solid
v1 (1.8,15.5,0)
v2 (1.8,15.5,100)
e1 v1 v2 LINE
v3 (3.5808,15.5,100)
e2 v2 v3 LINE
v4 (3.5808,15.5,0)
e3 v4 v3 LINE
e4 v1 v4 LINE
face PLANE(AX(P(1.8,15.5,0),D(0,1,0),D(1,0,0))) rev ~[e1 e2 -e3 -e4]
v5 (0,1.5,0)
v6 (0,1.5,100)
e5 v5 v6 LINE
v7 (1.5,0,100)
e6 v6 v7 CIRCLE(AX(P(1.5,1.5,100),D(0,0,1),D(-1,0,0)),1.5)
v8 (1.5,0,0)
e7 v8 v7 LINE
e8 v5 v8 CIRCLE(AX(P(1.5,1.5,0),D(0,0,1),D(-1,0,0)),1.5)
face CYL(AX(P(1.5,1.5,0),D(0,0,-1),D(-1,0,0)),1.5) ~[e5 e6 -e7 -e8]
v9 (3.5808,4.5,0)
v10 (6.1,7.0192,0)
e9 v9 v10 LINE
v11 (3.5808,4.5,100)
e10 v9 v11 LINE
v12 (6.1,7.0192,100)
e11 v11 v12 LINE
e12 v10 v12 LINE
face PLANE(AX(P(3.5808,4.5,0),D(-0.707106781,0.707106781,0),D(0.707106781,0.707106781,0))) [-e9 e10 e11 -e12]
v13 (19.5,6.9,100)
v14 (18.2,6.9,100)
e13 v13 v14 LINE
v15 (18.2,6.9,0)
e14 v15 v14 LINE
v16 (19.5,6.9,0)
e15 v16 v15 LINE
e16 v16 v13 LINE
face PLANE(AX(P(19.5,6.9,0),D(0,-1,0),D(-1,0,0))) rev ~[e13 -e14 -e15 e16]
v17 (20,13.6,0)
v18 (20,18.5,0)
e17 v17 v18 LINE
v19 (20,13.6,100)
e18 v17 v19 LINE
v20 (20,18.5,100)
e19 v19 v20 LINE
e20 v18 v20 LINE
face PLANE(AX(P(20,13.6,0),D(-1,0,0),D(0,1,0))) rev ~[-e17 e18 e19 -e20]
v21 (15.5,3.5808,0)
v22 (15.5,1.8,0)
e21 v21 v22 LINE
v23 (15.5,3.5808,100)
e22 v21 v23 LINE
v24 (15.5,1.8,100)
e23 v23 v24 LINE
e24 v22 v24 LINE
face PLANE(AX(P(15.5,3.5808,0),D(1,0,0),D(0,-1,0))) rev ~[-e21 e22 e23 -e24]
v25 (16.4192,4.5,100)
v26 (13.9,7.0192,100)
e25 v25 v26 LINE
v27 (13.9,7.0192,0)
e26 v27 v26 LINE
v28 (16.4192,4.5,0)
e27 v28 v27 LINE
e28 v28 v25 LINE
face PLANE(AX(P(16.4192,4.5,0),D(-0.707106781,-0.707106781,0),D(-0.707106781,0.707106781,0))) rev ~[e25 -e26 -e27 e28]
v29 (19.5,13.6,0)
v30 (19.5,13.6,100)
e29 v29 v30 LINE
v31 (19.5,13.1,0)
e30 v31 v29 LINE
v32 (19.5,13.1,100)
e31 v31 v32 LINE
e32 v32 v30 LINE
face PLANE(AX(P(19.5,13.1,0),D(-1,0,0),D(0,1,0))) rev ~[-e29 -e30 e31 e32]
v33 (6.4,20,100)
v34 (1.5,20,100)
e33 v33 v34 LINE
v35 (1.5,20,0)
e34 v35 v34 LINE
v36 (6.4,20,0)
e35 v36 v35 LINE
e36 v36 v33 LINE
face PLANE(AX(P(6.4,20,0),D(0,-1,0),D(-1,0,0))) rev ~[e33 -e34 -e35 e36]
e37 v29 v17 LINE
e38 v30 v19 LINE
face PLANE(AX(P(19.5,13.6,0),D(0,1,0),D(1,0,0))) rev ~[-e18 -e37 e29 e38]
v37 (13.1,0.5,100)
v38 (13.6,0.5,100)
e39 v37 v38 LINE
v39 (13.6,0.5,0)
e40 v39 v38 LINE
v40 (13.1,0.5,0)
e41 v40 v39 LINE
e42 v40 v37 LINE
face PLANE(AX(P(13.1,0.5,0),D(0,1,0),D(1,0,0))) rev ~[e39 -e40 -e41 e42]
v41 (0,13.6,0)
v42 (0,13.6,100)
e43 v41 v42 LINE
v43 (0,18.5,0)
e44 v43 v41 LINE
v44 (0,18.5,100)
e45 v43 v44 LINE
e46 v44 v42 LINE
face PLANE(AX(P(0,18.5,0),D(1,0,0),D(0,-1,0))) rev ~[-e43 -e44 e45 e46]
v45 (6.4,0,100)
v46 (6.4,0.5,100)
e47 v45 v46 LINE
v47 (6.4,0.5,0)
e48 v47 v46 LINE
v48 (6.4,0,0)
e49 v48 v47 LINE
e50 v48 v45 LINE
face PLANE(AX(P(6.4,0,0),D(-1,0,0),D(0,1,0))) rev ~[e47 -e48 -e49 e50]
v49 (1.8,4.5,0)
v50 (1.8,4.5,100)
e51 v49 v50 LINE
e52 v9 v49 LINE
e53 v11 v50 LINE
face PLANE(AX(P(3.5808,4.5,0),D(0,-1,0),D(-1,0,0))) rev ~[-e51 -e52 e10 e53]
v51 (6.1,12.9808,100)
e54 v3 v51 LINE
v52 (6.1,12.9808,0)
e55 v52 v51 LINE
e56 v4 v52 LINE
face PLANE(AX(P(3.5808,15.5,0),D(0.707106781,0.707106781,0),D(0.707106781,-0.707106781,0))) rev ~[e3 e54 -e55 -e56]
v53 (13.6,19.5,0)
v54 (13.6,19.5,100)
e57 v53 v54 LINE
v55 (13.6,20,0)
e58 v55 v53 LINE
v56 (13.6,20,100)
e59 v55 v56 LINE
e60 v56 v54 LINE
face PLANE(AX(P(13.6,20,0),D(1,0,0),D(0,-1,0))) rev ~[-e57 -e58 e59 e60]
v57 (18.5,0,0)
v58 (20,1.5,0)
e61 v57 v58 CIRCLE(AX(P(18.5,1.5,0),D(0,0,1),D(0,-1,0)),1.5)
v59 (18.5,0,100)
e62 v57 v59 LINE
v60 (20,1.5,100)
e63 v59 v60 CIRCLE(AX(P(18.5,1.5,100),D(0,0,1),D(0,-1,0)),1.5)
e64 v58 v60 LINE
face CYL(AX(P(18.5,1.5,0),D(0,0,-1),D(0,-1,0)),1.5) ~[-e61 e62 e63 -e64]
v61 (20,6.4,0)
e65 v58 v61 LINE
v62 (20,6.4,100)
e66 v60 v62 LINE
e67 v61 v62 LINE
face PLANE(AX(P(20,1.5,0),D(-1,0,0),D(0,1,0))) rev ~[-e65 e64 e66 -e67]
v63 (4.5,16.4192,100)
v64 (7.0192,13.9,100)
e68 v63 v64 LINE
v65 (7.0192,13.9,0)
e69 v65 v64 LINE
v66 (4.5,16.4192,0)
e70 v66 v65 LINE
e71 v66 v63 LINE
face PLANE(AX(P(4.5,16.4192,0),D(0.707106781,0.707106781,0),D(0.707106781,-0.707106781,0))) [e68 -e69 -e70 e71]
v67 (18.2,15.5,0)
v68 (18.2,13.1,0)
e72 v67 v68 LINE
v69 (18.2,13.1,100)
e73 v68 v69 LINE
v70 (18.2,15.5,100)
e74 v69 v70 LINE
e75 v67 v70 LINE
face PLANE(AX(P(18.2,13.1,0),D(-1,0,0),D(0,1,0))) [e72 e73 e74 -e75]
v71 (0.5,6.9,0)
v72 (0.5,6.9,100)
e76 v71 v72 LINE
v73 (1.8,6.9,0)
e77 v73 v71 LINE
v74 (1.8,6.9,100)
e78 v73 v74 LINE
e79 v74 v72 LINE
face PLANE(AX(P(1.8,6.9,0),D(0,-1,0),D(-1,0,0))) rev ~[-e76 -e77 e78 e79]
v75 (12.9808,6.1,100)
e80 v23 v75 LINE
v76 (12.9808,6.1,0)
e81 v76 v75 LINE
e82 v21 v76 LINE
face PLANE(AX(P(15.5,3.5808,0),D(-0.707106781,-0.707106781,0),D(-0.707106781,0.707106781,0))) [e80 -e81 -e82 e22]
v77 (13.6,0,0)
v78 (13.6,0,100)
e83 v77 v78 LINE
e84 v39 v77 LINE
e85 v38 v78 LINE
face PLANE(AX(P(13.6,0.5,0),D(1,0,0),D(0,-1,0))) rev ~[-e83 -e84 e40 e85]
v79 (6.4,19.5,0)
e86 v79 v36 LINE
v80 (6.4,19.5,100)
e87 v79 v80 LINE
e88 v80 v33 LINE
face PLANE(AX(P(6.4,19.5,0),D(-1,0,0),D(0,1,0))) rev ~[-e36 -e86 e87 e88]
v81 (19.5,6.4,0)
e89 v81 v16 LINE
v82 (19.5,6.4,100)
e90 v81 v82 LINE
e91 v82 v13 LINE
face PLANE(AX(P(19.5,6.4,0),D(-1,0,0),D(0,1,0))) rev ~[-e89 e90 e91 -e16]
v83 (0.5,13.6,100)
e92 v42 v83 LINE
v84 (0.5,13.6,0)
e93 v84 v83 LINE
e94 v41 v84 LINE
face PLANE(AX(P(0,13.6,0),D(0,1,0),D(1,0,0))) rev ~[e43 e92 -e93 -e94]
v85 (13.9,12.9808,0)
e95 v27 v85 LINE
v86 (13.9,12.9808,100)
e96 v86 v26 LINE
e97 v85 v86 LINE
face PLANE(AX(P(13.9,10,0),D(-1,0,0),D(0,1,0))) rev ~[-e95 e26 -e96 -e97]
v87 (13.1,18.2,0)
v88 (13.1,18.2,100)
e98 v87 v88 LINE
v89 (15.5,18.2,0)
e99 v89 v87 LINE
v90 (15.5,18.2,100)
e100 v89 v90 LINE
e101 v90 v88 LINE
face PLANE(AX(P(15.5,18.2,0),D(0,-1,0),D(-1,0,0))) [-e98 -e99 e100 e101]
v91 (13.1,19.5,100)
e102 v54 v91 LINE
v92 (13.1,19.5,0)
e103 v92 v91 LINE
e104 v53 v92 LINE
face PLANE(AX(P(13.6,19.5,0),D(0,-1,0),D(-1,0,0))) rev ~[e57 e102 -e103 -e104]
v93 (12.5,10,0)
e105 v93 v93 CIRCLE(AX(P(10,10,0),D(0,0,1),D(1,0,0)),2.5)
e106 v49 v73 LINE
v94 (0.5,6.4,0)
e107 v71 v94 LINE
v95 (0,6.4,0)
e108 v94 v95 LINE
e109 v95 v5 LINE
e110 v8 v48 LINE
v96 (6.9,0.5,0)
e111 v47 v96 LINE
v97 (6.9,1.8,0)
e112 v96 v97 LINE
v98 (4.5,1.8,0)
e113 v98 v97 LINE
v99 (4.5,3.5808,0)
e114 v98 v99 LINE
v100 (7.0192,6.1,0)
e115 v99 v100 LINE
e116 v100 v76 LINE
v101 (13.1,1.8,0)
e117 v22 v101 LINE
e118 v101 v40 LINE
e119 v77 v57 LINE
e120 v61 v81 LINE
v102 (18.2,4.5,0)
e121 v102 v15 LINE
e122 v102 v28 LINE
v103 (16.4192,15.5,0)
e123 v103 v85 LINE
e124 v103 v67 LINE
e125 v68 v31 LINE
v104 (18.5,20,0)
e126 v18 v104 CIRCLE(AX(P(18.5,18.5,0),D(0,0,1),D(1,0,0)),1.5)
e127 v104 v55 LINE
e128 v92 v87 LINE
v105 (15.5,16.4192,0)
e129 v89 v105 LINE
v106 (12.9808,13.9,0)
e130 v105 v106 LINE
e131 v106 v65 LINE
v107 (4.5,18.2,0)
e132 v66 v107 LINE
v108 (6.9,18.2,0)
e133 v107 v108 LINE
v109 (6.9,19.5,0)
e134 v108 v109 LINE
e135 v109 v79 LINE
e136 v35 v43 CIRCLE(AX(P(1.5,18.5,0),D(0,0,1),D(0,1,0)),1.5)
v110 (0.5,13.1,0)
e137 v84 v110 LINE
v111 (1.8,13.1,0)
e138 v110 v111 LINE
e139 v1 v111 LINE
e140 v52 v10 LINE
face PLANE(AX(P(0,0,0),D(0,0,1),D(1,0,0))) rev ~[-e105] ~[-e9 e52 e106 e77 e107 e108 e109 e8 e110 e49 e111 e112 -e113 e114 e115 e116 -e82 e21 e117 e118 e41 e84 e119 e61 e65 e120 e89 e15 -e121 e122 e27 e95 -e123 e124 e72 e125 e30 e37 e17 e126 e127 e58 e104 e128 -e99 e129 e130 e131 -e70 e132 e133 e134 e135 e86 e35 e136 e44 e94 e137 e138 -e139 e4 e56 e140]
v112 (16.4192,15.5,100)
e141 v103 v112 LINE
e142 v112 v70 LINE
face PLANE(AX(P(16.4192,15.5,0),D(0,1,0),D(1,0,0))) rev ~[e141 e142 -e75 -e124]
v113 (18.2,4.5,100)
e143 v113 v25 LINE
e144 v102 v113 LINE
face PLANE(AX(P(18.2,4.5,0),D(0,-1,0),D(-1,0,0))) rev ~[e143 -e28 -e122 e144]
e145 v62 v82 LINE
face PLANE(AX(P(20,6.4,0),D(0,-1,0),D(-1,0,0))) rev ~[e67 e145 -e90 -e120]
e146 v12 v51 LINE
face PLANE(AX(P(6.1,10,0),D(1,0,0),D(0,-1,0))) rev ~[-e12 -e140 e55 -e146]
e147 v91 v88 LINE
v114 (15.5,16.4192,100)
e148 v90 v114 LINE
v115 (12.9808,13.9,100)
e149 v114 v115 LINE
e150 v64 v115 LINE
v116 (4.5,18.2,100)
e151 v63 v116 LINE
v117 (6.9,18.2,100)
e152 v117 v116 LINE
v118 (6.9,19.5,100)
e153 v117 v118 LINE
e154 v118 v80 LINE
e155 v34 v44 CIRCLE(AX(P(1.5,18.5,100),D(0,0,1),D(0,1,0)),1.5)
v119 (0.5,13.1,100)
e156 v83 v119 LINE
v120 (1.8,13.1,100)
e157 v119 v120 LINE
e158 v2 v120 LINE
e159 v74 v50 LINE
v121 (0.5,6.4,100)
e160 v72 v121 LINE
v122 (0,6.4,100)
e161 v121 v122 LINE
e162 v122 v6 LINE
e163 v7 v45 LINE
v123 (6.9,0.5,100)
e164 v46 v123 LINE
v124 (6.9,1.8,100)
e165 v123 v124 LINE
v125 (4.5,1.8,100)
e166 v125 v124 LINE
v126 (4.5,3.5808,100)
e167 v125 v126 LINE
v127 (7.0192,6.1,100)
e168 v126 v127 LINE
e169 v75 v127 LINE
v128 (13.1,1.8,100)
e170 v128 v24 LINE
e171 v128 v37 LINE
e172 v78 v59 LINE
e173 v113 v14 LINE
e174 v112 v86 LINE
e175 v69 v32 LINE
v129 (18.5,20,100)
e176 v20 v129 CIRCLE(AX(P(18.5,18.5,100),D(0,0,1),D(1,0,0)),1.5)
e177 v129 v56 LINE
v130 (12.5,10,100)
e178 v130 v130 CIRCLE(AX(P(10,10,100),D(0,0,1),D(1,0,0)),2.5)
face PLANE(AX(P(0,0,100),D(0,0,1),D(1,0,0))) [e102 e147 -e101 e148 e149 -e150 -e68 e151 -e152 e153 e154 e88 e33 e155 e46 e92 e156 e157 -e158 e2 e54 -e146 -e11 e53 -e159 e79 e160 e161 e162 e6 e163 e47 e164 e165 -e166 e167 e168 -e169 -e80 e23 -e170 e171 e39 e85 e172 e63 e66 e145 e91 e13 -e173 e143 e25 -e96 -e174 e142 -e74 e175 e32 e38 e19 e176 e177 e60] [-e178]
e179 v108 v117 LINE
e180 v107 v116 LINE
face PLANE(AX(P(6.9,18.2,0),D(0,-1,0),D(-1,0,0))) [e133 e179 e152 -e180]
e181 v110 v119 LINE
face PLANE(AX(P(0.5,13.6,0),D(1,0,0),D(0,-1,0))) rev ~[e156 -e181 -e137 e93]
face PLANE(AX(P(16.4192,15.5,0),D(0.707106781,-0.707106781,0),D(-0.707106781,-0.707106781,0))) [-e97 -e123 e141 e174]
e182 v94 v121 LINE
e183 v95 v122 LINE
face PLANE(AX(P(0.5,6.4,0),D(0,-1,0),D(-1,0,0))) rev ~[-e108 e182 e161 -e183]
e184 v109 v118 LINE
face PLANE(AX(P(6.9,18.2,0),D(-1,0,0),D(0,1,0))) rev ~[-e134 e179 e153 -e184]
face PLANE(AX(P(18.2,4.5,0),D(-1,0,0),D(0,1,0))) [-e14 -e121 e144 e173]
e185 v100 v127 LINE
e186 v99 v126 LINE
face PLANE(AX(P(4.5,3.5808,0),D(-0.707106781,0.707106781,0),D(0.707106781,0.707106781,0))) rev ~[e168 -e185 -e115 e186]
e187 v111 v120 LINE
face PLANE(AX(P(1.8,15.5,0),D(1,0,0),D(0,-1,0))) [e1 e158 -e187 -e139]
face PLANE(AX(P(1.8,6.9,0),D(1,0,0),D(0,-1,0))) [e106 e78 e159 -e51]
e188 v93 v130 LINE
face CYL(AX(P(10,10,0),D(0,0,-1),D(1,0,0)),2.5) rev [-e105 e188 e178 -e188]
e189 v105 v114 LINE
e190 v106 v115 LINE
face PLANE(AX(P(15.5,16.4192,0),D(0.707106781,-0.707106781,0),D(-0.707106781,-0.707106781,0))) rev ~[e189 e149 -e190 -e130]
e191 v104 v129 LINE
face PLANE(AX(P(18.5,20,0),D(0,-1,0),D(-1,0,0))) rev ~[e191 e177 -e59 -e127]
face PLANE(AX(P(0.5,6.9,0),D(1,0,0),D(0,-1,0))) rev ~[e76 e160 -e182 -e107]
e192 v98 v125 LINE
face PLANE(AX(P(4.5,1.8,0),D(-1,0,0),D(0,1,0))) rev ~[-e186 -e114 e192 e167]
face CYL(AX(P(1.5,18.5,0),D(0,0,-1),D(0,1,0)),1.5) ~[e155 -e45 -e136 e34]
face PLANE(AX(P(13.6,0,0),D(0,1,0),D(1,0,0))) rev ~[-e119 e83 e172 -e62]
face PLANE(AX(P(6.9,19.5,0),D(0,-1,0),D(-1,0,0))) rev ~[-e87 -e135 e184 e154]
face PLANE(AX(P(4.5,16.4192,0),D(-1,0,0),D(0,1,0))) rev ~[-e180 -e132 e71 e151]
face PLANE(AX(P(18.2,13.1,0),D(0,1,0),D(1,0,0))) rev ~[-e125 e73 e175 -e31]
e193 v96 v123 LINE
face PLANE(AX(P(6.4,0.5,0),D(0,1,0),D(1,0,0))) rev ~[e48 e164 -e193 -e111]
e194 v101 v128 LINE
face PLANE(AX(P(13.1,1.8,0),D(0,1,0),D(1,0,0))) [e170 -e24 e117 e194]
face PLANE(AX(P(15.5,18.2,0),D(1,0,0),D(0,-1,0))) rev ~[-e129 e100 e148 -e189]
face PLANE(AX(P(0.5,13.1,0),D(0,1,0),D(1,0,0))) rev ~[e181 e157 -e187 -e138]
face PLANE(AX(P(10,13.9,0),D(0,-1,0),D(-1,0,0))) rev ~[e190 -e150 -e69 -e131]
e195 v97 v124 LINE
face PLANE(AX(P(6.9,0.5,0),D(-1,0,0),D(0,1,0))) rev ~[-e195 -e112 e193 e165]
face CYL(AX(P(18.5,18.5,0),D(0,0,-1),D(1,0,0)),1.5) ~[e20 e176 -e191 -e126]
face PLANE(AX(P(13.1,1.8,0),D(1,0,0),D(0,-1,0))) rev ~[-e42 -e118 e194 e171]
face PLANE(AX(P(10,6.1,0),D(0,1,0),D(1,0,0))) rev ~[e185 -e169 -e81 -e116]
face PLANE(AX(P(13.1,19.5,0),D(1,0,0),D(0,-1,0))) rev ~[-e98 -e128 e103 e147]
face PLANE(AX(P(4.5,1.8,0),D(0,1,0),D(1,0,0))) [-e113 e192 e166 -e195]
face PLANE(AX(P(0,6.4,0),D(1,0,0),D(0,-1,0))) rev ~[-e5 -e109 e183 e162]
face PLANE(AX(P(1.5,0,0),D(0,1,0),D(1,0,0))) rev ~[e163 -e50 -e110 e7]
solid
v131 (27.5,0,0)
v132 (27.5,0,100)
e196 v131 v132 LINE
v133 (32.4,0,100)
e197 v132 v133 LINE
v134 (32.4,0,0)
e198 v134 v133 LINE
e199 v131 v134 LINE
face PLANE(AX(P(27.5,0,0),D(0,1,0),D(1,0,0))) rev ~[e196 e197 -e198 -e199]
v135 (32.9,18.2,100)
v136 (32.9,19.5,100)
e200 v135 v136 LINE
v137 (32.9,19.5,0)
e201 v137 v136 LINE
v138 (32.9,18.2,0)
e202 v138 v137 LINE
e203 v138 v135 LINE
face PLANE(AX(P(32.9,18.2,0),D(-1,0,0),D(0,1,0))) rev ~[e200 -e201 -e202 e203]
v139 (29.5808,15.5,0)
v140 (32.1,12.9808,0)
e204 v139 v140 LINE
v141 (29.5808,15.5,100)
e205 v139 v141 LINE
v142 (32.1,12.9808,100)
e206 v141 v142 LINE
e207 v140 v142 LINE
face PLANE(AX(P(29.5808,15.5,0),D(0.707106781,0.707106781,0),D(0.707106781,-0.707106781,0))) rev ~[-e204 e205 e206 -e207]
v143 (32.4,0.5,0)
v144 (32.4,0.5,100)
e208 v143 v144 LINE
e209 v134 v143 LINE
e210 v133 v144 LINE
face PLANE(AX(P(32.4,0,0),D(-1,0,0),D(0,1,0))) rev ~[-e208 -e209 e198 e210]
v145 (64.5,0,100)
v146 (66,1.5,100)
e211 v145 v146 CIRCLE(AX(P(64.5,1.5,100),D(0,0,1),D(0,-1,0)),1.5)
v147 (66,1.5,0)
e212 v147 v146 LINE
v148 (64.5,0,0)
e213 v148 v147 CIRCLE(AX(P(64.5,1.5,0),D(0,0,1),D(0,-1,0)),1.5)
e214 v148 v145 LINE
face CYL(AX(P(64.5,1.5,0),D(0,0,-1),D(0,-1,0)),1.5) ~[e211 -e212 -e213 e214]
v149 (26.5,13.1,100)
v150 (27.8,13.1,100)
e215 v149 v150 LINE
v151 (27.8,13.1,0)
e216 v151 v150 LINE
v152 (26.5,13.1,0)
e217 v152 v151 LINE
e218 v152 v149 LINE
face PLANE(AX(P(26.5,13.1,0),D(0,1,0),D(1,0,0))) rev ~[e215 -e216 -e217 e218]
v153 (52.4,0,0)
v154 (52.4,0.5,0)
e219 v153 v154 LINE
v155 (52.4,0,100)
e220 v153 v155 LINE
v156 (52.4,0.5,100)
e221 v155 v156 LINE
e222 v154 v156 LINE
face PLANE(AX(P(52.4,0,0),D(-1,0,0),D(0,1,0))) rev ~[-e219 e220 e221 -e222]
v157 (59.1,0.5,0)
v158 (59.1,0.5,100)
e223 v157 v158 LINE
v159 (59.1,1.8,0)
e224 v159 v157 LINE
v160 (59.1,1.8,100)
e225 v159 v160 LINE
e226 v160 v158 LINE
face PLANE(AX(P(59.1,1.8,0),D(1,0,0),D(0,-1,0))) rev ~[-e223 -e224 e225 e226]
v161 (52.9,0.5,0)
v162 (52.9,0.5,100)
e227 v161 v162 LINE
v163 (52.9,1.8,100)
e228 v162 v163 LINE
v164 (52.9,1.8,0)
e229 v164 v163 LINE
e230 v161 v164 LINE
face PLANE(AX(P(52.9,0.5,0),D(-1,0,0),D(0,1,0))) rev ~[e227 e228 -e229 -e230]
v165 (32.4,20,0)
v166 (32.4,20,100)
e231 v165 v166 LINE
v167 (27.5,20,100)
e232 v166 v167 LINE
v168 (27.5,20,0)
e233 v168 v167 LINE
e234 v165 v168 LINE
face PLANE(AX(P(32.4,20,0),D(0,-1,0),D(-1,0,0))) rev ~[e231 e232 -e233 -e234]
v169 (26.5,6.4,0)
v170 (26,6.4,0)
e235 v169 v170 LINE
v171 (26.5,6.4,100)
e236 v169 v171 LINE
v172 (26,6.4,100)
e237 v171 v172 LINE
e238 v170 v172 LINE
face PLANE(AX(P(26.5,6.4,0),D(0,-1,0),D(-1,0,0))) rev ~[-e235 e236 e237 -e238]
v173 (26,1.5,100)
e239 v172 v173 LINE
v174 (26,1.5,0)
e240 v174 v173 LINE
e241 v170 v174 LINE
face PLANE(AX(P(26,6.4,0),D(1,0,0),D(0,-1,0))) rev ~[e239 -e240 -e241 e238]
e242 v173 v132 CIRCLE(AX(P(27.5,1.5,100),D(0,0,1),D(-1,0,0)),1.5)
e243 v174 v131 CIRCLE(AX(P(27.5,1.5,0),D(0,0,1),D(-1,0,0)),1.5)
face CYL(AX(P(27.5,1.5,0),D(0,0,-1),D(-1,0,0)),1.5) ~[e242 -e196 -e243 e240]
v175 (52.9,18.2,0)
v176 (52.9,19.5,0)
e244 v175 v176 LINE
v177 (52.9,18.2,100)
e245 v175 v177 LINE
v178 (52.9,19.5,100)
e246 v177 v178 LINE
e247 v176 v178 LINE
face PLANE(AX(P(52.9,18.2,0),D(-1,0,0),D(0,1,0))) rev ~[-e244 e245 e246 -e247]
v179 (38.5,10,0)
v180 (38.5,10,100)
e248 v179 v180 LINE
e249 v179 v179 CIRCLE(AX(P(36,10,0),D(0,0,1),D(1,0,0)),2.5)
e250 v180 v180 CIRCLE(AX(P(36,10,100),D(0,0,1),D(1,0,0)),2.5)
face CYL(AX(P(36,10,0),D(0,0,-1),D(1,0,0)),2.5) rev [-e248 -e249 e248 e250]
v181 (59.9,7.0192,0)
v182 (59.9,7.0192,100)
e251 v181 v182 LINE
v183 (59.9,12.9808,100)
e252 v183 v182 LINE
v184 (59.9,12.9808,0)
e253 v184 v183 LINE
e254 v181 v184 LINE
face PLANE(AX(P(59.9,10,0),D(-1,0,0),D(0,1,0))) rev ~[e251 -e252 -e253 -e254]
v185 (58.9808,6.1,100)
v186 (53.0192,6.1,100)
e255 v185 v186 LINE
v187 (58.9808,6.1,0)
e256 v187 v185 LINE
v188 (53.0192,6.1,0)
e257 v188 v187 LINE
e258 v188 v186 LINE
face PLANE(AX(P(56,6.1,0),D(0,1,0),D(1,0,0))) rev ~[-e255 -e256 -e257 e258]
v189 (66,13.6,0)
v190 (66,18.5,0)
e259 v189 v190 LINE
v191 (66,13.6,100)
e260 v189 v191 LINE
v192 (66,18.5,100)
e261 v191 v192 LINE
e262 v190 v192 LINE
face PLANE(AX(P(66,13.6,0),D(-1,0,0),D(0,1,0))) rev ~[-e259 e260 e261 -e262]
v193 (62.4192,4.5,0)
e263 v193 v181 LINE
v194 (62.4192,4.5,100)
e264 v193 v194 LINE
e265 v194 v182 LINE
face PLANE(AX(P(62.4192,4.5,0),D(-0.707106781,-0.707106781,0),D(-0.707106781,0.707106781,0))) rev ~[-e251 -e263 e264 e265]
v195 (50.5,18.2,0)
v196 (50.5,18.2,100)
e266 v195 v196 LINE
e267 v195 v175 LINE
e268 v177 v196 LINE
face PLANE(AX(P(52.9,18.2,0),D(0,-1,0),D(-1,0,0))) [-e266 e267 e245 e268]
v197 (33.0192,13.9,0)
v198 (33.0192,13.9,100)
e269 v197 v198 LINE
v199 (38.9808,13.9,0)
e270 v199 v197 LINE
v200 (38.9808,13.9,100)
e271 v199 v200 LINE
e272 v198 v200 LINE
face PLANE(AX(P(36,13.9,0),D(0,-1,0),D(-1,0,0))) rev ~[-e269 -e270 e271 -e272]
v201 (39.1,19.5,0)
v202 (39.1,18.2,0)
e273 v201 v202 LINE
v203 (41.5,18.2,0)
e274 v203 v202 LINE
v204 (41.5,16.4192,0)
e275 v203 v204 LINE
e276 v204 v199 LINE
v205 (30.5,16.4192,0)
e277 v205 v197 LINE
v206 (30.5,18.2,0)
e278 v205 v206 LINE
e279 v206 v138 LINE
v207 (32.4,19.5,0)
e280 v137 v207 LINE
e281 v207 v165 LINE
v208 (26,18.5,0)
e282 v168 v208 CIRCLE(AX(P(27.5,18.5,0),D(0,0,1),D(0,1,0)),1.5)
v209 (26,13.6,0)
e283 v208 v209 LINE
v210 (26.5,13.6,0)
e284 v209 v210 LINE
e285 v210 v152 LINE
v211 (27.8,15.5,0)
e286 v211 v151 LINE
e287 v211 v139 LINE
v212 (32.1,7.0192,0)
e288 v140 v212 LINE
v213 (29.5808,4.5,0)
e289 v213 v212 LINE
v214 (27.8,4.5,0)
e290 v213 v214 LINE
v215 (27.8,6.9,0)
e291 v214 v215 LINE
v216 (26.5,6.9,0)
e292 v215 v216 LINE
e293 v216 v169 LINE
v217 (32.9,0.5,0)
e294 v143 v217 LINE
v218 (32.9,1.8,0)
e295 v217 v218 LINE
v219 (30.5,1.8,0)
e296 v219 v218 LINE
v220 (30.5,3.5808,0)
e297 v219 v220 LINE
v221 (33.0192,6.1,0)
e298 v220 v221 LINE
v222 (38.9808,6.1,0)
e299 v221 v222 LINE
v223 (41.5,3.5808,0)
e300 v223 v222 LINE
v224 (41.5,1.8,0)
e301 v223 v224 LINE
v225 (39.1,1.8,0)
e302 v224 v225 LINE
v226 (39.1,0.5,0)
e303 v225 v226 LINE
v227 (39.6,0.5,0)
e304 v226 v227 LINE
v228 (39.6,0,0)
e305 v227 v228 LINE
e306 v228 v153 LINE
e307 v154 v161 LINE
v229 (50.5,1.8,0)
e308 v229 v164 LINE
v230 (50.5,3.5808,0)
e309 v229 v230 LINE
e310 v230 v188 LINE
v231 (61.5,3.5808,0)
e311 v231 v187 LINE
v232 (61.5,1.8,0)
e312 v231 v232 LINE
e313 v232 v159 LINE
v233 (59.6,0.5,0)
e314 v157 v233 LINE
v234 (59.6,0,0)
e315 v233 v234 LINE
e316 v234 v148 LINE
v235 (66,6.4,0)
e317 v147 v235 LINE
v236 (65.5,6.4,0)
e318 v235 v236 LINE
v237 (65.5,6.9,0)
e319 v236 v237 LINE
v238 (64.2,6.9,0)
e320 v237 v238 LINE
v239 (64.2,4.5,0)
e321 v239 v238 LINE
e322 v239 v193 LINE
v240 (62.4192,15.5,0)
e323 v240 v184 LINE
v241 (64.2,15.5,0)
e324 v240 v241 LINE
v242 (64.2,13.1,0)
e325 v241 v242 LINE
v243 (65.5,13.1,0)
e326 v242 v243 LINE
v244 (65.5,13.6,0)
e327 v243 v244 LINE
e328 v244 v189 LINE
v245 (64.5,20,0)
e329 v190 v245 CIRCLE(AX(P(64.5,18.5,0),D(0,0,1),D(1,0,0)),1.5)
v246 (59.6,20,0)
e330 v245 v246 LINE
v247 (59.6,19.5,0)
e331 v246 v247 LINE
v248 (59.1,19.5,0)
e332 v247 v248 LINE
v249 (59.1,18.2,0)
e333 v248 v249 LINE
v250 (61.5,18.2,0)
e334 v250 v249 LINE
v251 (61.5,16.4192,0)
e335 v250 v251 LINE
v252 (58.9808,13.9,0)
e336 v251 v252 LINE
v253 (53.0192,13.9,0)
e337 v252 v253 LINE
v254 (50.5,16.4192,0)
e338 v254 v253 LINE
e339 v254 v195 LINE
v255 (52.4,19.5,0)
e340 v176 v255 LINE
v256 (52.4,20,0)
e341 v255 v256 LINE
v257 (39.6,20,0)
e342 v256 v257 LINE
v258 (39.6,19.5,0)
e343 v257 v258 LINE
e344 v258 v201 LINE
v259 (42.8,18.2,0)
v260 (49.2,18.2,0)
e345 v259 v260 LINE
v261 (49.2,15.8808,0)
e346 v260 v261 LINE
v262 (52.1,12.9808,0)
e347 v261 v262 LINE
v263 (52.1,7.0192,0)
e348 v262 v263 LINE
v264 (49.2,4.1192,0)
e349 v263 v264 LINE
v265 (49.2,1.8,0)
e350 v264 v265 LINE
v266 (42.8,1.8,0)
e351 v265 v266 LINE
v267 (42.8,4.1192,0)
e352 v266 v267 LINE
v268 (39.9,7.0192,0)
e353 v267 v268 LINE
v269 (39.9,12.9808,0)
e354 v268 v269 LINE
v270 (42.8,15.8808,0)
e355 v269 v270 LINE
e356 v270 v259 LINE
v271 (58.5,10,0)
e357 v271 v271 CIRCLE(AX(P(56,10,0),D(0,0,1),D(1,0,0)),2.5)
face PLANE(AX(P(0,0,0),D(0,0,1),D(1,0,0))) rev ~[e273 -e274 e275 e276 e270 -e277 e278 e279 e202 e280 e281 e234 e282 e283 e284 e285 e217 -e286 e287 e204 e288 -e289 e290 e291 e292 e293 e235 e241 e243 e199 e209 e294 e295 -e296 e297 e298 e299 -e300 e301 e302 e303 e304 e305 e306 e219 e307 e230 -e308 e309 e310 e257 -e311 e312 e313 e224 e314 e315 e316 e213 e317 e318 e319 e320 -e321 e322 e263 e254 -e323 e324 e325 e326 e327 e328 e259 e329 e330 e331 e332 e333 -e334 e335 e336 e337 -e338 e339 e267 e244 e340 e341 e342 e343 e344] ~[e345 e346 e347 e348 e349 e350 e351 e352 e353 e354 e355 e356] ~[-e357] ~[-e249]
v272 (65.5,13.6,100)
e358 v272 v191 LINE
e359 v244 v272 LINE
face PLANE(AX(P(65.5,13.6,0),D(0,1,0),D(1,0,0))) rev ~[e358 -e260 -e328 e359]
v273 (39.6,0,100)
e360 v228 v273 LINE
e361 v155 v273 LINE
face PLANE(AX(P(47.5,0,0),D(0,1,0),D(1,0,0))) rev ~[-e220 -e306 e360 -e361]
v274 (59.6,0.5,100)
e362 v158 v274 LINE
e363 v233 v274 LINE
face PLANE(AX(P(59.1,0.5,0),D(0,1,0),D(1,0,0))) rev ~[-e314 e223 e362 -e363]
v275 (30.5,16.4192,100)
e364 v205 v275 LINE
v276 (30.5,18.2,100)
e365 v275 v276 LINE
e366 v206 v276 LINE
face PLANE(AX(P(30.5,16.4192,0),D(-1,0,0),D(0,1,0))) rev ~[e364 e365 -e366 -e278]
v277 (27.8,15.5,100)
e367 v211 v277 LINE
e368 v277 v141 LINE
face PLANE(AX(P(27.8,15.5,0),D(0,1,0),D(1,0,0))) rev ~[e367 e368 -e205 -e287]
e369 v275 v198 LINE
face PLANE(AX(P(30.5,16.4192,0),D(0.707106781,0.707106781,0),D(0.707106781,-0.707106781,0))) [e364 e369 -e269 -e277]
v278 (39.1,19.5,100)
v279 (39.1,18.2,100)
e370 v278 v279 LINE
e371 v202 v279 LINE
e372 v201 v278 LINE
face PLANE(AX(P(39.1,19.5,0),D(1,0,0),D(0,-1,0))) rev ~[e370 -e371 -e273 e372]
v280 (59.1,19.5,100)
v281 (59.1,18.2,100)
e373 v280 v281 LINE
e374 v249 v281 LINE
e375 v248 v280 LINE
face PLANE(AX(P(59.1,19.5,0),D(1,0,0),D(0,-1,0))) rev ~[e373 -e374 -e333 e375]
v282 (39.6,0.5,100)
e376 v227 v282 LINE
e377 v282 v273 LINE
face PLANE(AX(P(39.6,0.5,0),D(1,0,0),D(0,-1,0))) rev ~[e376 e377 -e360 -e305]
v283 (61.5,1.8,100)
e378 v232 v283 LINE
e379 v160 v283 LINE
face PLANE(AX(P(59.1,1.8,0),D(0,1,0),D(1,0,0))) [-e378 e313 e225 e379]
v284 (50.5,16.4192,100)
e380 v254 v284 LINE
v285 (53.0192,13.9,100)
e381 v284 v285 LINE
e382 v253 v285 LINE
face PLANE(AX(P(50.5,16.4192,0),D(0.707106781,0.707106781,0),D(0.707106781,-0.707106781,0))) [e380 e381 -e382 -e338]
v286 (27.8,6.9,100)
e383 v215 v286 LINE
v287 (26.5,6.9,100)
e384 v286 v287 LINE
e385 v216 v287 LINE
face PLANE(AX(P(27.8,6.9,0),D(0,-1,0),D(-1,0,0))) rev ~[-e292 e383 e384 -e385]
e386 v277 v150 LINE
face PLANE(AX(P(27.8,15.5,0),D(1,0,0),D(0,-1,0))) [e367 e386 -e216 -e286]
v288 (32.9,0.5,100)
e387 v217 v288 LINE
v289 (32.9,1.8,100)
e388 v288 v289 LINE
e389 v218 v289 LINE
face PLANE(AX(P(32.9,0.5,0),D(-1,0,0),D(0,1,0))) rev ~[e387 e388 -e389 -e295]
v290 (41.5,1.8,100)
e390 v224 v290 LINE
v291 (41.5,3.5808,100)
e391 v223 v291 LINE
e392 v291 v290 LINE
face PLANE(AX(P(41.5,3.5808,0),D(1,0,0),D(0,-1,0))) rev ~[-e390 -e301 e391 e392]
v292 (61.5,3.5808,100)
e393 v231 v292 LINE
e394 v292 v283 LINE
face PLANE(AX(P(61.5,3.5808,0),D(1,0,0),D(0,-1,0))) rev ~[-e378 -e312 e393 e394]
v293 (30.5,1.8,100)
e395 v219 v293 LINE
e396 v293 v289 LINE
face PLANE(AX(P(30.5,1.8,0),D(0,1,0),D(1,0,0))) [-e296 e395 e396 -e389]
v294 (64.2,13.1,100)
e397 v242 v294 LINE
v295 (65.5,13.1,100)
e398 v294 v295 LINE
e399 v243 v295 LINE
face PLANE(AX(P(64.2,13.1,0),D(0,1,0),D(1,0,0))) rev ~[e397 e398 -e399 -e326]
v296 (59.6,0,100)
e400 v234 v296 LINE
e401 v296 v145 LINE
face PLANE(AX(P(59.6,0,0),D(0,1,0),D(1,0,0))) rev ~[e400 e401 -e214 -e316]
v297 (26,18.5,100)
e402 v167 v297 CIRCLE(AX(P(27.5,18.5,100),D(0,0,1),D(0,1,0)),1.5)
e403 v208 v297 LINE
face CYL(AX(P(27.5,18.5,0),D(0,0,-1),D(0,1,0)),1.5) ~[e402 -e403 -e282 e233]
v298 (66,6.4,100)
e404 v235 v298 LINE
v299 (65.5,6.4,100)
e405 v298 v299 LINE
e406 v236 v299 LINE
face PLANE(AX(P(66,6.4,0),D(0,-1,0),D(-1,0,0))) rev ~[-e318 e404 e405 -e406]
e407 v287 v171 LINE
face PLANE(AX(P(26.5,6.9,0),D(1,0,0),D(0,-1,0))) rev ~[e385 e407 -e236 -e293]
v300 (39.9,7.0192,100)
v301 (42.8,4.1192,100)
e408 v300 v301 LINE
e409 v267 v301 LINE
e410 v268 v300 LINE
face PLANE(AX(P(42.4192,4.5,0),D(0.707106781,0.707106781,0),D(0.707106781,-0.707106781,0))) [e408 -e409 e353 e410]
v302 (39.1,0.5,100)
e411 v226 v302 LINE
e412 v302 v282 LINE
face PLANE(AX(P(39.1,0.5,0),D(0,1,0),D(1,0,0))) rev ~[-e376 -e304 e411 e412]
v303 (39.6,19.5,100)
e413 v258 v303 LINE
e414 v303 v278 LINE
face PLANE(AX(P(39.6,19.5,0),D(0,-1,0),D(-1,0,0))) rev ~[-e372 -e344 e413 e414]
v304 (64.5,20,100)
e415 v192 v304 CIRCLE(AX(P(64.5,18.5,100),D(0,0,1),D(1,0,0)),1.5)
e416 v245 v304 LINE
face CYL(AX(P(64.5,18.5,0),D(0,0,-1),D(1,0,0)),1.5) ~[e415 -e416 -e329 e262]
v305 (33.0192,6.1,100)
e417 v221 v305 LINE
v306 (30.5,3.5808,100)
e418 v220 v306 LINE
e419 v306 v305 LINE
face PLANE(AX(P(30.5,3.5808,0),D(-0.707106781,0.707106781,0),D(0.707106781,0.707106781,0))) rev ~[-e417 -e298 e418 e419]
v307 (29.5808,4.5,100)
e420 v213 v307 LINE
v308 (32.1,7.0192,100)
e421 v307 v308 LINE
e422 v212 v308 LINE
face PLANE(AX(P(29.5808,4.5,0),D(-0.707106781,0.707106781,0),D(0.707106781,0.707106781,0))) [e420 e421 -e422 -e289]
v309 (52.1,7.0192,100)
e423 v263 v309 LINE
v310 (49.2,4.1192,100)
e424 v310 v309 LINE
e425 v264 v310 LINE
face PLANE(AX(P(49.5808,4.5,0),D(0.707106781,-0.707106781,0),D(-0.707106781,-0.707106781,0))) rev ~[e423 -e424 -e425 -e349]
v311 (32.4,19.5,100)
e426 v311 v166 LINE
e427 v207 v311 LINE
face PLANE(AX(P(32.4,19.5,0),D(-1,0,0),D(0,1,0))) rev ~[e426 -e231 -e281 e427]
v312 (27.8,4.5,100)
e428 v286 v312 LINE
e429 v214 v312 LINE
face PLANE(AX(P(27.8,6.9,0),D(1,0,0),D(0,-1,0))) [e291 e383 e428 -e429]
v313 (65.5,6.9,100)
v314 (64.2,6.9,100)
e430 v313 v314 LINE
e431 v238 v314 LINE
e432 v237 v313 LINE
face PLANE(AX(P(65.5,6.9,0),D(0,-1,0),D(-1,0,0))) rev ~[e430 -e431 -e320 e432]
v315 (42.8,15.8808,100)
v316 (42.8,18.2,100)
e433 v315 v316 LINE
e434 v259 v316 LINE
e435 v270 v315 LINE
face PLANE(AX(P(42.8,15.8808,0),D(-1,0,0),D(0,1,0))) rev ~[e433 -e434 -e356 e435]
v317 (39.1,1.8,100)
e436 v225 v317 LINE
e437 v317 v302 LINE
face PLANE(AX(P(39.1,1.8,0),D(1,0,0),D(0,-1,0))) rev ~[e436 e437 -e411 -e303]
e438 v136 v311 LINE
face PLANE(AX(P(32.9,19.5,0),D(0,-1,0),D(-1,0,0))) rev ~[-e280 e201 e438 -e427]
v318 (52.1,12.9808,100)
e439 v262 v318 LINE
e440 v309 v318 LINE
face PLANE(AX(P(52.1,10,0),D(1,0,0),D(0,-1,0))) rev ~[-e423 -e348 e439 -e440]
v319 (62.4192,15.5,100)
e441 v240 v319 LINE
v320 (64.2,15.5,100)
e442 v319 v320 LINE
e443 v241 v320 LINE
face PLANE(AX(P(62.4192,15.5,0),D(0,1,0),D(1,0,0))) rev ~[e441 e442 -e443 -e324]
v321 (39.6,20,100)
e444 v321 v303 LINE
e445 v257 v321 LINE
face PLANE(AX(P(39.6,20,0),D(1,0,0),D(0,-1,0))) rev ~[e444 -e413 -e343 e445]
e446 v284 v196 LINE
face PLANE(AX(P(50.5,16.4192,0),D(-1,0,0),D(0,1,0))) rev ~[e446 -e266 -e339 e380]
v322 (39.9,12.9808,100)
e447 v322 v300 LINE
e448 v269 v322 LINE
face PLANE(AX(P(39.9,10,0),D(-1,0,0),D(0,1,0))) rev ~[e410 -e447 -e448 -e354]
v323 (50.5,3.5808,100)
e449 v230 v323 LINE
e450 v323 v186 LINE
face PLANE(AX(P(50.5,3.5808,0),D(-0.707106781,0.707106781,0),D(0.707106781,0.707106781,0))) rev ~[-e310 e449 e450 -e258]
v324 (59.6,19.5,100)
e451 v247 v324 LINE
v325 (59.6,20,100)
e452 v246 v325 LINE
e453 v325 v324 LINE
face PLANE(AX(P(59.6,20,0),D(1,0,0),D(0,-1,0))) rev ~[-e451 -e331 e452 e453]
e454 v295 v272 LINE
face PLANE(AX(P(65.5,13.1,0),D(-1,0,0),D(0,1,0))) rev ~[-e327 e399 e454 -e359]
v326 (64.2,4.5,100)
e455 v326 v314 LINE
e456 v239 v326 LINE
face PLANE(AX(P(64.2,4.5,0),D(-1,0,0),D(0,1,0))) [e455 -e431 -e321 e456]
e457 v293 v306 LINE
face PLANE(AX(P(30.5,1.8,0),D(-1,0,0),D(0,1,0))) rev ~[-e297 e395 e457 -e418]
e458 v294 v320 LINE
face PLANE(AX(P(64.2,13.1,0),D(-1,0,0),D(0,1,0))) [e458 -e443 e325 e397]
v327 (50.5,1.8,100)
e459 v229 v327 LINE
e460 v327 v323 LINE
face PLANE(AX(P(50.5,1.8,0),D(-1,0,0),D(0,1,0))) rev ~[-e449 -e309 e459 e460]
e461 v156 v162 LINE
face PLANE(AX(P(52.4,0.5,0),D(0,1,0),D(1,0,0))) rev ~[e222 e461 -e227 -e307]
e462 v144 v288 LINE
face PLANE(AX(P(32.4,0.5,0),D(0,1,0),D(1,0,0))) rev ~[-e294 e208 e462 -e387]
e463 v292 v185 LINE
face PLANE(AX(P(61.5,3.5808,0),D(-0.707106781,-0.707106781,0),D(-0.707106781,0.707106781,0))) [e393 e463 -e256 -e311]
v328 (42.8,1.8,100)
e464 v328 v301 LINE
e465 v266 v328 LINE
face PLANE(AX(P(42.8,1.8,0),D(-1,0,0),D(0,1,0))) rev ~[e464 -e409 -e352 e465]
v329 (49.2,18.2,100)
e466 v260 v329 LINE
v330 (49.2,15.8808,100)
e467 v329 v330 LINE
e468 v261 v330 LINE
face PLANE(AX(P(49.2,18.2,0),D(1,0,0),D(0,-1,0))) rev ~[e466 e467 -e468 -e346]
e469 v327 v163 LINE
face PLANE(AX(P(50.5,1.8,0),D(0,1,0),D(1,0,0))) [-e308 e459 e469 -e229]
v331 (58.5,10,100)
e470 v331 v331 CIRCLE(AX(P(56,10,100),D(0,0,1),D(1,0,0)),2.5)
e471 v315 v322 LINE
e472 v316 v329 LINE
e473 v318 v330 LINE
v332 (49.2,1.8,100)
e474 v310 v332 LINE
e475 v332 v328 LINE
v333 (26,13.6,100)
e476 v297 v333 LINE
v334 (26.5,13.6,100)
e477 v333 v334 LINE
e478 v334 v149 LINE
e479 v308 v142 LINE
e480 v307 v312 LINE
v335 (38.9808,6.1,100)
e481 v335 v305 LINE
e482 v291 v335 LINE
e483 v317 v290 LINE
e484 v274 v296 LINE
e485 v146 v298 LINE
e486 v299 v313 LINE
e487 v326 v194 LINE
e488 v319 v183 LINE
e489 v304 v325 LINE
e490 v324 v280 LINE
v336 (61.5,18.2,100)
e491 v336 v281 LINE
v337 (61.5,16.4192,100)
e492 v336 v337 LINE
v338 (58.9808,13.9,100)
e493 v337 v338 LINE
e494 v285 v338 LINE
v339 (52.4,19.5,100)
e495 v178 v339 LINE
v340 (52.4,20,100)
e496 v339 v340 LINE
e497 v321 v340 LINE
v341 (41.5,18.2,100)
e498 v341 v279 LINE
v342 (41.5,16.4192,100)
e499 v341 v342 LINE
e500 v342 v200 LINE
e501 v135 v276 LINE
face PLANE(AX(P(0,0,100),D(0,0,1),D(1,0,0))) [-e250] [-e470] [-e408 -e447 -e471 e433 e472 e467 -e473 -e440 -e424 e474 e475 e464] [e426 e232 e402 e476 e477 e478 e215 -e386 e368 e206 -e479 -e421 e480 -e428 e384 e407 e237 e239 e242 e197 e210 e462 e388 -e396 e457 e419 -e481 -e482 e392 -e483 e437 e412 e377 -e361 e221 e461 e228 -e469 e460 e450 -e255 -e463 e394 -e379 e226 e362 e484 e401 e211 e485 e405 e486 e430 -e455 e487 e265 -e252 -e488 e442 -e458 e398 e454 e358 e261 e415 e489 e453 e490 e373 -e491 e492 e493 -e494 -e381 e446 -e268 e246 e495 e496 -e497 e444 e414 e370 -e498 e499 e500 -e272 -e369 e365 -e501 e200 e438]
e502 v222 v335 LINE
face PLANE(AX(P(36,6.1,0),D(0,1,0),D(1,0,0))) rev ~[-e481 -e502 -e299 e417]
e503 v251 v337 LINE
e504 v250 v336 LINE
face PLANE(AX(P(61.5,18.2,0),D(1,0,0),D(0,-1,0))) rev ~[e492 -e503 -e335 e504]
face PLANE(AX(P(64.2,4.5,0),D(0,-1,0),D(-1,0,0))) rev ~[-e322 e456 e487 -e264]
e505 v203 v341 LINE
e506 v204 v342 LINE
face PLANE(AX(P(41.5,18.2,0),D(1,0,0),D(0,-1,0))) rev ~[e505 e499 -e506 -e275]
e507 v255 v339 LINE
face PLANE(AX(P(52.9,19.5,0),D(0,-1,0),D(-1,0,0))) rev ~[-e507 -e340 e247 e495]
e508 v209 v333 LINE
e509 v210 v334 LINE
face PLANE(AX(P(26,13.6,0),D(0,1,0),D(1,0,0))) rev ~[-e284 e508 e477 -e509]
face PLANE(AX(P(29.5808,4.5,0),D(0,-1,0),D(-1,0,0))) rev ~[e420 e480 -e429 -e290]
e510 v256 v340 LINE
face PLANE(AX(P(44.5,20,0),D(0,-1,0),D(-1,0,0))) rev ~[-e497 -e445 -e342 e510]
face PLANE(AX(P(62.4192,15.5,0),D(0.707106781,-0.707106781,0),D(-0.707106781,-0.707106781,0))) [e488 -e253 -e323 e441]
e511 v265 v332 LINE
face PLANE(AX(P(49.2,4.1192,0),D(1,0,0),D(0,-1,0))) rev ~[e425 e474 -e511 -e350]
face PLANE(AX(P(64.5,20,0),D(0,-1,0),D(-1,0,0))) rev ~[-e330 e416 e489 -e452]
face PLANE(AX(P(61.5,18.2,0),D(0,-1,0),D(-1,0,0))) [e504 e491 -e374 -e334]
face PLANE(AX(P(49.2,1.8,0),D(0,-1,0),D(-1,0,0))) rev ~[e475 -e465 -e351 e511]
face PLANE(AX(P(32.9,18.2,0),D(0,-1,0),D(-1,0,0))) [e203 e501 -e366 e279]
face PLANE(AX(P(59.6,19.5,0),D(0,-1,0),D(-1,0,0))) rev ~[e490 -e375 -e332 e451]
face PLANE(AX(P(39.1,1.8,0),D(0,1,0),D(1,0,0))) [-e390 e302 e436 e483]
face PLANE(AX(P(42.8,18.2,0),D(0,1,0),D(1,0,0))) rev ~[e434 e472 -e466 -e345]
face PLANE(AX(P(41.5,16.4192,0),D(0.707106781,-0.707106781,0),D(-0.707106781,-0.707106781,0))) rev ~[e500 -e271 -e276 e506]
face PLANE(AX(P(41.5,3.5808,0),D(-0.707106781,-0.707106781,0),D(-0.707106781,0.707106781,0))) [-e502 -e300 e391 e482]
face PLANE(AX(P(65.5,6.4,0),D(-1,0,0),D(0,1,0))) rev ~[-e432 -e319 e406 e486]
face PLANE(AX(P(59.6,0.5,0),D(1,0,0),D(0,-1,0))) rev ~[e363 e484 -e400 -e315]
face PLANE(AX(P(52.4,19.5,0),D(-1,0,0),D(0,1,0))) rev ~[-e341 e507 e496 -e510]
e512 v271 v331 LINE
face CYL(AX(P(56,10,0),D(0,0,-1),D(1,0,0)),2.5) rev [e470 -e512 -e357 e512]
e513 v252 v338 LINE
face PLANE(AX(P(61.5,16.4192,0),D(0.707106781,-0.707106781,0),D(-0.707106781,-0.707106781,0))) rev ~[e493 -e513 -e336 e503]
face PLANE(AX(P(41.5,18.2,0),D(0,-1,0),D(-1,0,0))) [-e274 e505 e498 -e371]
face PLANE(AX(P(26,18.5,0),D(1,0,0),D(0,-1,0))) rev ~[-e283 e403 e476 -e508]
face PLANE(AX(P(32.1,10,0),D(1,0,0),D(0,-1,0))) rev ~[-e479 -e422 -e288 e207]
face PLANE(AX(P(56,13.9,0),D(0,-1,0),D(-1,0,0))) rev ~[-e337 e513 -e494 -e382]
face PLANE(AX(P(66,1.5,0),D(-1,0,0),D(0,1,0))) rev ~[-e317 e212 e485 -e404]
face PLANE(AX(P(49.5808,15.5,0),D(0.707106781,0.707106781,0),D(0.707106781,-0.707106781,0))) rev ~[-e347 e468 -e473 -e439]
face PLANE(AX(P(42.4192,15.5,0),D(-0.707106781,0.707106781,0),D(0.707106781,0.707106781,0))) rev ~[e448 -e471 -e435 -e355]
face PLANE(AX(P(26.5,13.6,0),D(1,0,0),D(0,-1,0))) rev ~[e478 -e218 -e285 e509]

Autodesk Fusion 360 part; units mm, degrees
sketch "Sketch1" plane through (0, 0, 0) normal (0, 0, 1) x (1, 0, 0)
  circle A0 centre (10, 10) radius 2.5
  line L0 (13.9, 6.1) -> (6.1, 13.9) construction
  line L1 (0, 6.4) -> (0, 1.5)
  line L2 (4.5, 1.8) -> (6.9, 1.8)
  line L3 (3.5808, 4.5) -> (6.1, 7.0192)
  line L4 (4.5, 3.5808) -> (7.0192, 6.1)
  line L5 (0.5, 6.9) -> (0.5, 6.4)
  line L6 (0.5, 6.4) -> (0, 6.4)
  line L7 (6.9, 0) -> (6.4, 0) construction
  line L8 (6.4, 0) -> (6.4, 0.5)
  line L9 (6.4, 0.5) -> (6.9, 0.5)
  arc A1 (0, 1.5) -> (1.5, 0) centre (1.5, 1.5) ccw
  line L10 (1.8, 6.9) -> (0.5, 6.9)
  line L11 (1.8, 6.9) -> (1.8, 6.4)
  line L12 (1.8, 6.4) -> (1.8, 4.5)
  line L13 (3.5808, 4.5) -> (1.8, 4.5)
  line L14 (6.1, 10) -> (6.1, 7.0192)
  line L15 (7.0192, 6.1) -> (10, 6.1)
  line L16 (4.5, 1.8) -> (4.5, 3.5808)
  line L17 (6.9, 0.5) -> (6.9, 1.8)
  line L18 (1.5, 0) -> (6.4, 0)
  line L19 (6.4, 0) -> (6.9, 0)
  line L20 (0, 6.9) -> (0, 6.4)
  line L21 (10, 13.9) -> (10, 6.1) construction
  line L22 (13.9, 10) -> (6.1, 10) construction
  line L23 (20, 6.4) -> (19.5, 6.4)
  line L24 (19.5, 6.4) -> (19.5, 6.9)
  line L25 (19.5, 6.9) -> (18.2, 6.9)
  line L26 (18.2, 4.5) -> (18.2, 6.9)
  line L27 (18.2, 4.5) -> (16.4192, 4.5)
  line L28 (16.4192, 4.5) -> (13.9, 7.0192)
  line L29 (13.9, 7.0192) -> (13.9, 10)
  line L30 (15.5, 3.5808) -> (12.9808, 6.1)
  line L31 (15.5, 3.5808) -> (15.5, 1.8)
  line L32 (13.6, 1.8) -> (15.5, 1.8)
  line L33 (13.1, 1.8) -> (13.6, 1.8)
  line L34 (13.1, 1.8) -> (13.1, 0.5)
  line L35 (13.1, 0.5) -> (13.6, 0.5)
  line L36 (13.6, 0.5) -> (13.6, 0)
  line L37 (10, 6.1) -> (12.9808, 6.1)
  line L38 (13.6, 0) -> (18.5, 0)
  arc A2 (18.5, 0) -> (20, 1.5) centre (18.5, 1.5) ccw
  line L39 (20, 1.5) -> (20, 6.4)
  line L40 (13.6, 20) -> (13.6, 19.5)
  line L41 (13.6, 19.5) -> (13.1, 19.5)
  line L42 (13.1, 19.5) -> (13.1, 18.2)
  line L43 (15.5, 18.2) -> (13.1, 18.2)
  line L44 (15.5, 18.2) -> (15.5, 16.4192)
  line L45 (15.5, 16.4192) -> (12.9808, 13.9)
  line L46 (12.9808, 13.9) -> (10, 13.9)
  line L47 (16.4192, 15.5) -> (13.9, 12.9808)
  line L48 (16.4192, 15.5) -> (18.2, 15.5)
  line L49 (18.2, 13.6) -> (18.2, 15.5)
  line L50 (18.2, 13.1) -> (18.2, 13.6)
  line L51 (18.2, 13.1) -> (19.5, 13.1)
  line L52 (19.5, 13.1) -> (19.5, 13.6)
  line L53 (19.5, 13.6) -> (20, 13.6)
  line L54 (13.9, 10) -> (13.9, 12.9808)
  line L55 (20, 13.6) -> (20, 18.5)
  arc A3 (20, 18.5) -> (18.5, 20) centre (18.5, 18.5) ccw
  line L56 (18.5, 20) -> (13.6, 20)
  line L57 (0, 13.6) -> (0.5, 13.6)
  line L58 (0.5, 13.6) -> (0.5, 13.1)
  line L59 (0.5, 13.1) -> (1.8, 13.1)
  line L60 (1.8, 15.5) -> (1.8, 13.1)
  line L61 (1.8, 15.5) -> (3.5808, 15.5)
  line L62 (3.5808, 15.5) -> (6.1, 12.9808)
  line L63 (6.1, 12.9808) -> (6.1, 10)
  line L64 (4.5, 16.4192) -> (7.0192, 13.9)
  line L65 (4.5, 16.4192) -> (4.5, 18.2)
  line L66 (6.4, 18.2) -> (4.5, 18.2)
  line L67 (6.9, 18.2) -> (6.4, 18.2)
  line L68 (6.9, 18.2) -> (6.9, 19.5)
  line L69 (6.9, 19.5) -> (6.4, 19.5)
  line L70 (6.4, 19.5) -> (6.4, 20)
  line L71 (10, 13.9) -> (7.0192, 13.9)
  line L72 (6.4, 20) -> (1.5, 20)
  arc A4 (1.5, 20) -> (0, 18.5) centre (1.5, 18.5) ccw
  line L73 (0, 18.5) -> (0, 13.6)
  arc A5 (26, 1.5) -> (27.5, 0) centre (27.5, 1.5) ccw
  line L74 (41.5, 3.5808) -> (41.5, 1.8)
  line L75 (39.1, 19.5) -> (39.1, 18.2)
  line L76 (32.4, 20) -> (27.5, 20)
  line L77 (26, 6.9) -> (26, 6.4)
  line L78 (29.5808, 4.5) -> (32.1, 7.0192)
  line L79 (29.5808, 15.5) -> (32.1, 12.9808)
  line L80 (26, 13.6) -> (26.5, 13.6)
  line L81 (39.1, 0.5) -> (39.6, 0.5)
  line L82 (30.5, 16.4192) -> (30.5, 18.2)
  line L83 (27.8, 15.5) -> (27.8, 13.1)
  line L84 (36, 13.9) -> (36, 6.1) construction
  line L85 (32.4, 0) -> (32.4, 0.5)
  line L86 (39.6, 0.5) -> (39.6, 0)
  line L87 (32.1, 10) -> (32.1, 7.0192)
  line L88 (32.4, 19.5) -> (32.4, 20)
  line L89 (39.1, 1.8) -> (39.6, 1.8)
  line L90 (27.8, 6.9) -> (27.8, 6.4)
  line L91 (41.5, 16.4192) -> (38.9808, 13.9)
  line L92 (26.5, 13.1) -> (27.8, 13.1)
  line L93 (26.5, 6.4) -> (26, 6.4)
  line L94 (32.1, 12.9808) -> (32.1, 10)
  line L95 (27.5, 0) -> (32.4, 0)
  line L96 (32.9, 0.5) -> (32.9, 1.8)
  line L97 (32.9, 0) -> (32.4, 0) construction
  line L98 (30.5, 1.8) -> (30.5, 3.5808)
  line L99 (32.9, 19.5) -> (32.4, 19.5)
  line L100 (32.9, 18.2) -> (32.4, 18.2)
  line L101 (41.5, 18.2) -> (39.1, 18.2)
  line L102 (39.6, 19.5) -> (39.1, 19.5)
  line L103 (27.8, 6.9) -> (26.5, 6.9)
  line L104 (27.8, 15.5) -> (29.5808, 15.5)
  line L105 (36, 13.9) -> (33.0192, 13.9)
  line L106 (33.0192, 6.1) -> (36, 6.1)
  line L107 (41.5, 18.2) -> (41.5, 16.4192)
  line L108 (39.9, 10) -> (32.1, 10) construction
  line L109 (39.6, 1.8) -> (41.5, 1.8)
  line L110 (39.9, 6.1) -> (32.1, 13.9) construction
  line L111 (39.6, 0) -> (44.5, 0)
  line L112 (36, 6.1) -> (38.9808, 6.1)
  circle A6 centre (36, 10) radius 2.5
  line L113 (42.4192, 4.5) -> (39.9, 7.0192)
  line L114 (38.9808, 13.9) -> (36, 13.9)
  line L115 (41.5, 3.5808) -> (38.9808, 6.1)
  line L116 (39.9, 7.0192) -> (39.9, 10)
  line L117 (39.9, 10) -> (39.9, 12.9808)
  line L118 (30.5, 16.4192) -> (33.0192, 13.9)
  line L119 (42.4192, 15.5) -> (39.9, 12.9808)
  line L120 (26, 18.5) -> (26, 13.6)
  line L121 (39.6, 20) -> (39.6, 19.5)
  line L122 (32.4, 18.2) -> (30.5, 18.2)
  line L123 (26.5, 6.9) -> (26.5, 6.4)
  line L124 (39.1, 1.8) -> (39.1, 0.5)
  arc A7 (27.5, 20) -> (26, 18.5) centre (27.5, 18.5) ccw
  line L125 (44.5, 20) -> (39.6, 20)
  line L126 (26, 6.4) -> (26, 1.5)
  line L127 (30.5, 3.5808) -> (33.0192, 6.1)
  line L128 (32.4, 0) -> (32.9, 0)
  line L129 (32.4, 0.5) -> (32.9, 0.5)
  line L130 (29.5808, 4.5) -> (27.8, 4.5)
  line L131 (27.8, 6.4) -> (27.8, 4.5)
  line L132 (30.5, 1.8) -> (32.9, 1.8)
  line L133 (26.5, 13.6) -> (26.5, 13.1)
  line L134 (32.9, 18.2) -> (32.9, 19.5)
  line L135 (59.9, 6.1) -> (52.1, 13.9) construction
  circle A8 centre (56, 10) radius 2.5
  line L136 (56, 13.9) -> (56, 6.1) construction
  line L137 (66, 13.6) -> (66, 18.5)
  line L138 (61.5, 16.4192) -> (58.9808, 13.9)
  line L139 (59.9, 10) -> (59.9, 12.9808)
  line L140 (64.2, 13.1) -> (65.5, 13.1)
  line L141 (59.6, 20) -> (59.6, 19.5)
  line L142 (52.1, 12.9808) -> (52.1, 10)
  line L143 (59.1, 19.5) -> (59.1, 18.2)
  line L144 (64.2, 13.1) -> (64.2, 13.6)
  line L145 (64.2, 13.6) -> (64.2, 15.5)
  line L146 (59.9, 10) -> (52.1, 10) construction
  line L147 (65.5, 13.1) -> (65.5, 13.6)
  line L148 (64.5, 20) -> (59.6, 20)
  line L149 (49.5808, 15.5) -> (52.1, 12.9808)
  line L150 (52.4, 19.5) -> (52.4, 20)
  line L151 (62.4192, 15.5) -> (64.2, 15.5)
  line L152 (59.1, 0.5) -> (59.6, 0.5)
  line L153 (65.5, 13.6) -> (66, 13.6)
  line L154 (50.5, 16.4192) -> (53.0192, 13.9)
  line L155 (61.5, 18.2) -> (61.5, 16.4192)
  line L156 (53.0192, 6.1) -> (56, 6.1)
  line L157 (50.5, 16.4192) -> (50.5, 18.2)
  line L158 (52.4, 0.5) -> (52.9, 0.5)
  line L159 (59.1, 1.8) -> (59.6, 1.8)
  line L160 (49.5808, 4.5) -> (52.1, 7.0192)
  line L161 (50.5, 1.8) -> (50.5, 3.5808)
  line L162 (61.5, 3.5808) -> (61.5, 1.8)
  line L163 (56, 13.9) -> (53.0192, 13.9)
  line L164 (52.4, 0) -> (52.4, 0.5)
  line L165 (50.5, 3.5808) -> (53.0192, 6.1)
  line L166 (66, 1.5) -> (66, 6.4)
  line L167 (59.6, 1.8) -> (61.5, 1.8)
  arc A9 (66, 18.5) -> (64.5, 20) centre (64.5, 18.5) ccw
  line L168 (52.1, 10) -> (52.1, 7.0192)
  line L169 (64.2, 4.5) -> (62.4192, 4.5)
  line L170 (59.6, 19.5) -> (59.1, 19.5)
  line L171 (61.5, 18.2) -> (59.1, 18.2)
  line L172 (61.5, 3.5808) -> (58.9808, 6.1)
  line L173 (52.9, 0) -> (52.4, 0) construction
  line L174 (59.9, 7.0192) -> (59.9, 10)
  line L175 (52.4, 18.2) -> (50.5, 18.2)
  line L176 (59.6, 0.5) -> (59.6, 0)
  line L177 (52.9, 18.2) -> (52.4, 18.2)
  line L178 (66, 6.4) -> (65.5, 6.4)
  line L179 (56, 6.1) -> (58.9808, 6.1)
  line L180 (52.9, 18.2) -> (52.9, 19.5)
  line L181 (59.6, 0) -> (64.5, 0)
  line L182 (62.4192, 4.5) -> (59.9, 7.0192)
  arc A10 (64.5, 0) -> (66, 1.5) centre (64.5, 1.5) ccw
  line L183 (50.5, 1.8) -> (52.9, 1.8)
  line L184 (52.4, 20) -> (47.5, 20)
  line L185 (64.2, 4.5) -> (64.2, 6.9)
  line L186 (65.5, 6.4) -> (65.5, 6.9)
  line L187 (52.4, 0) -> (52.9, 0)
  line L188 (52.9, 19.5) -> (52.4, 19.5)
  line L189 (65.5, 6.9) -> (64.2, 6.9)
  line L190 (59.1, 1.8) -> (59.1, 0.5)
  line L191 (47.5, 0) -> (52.4, 0)
  line L192 (58.9808, 13.9) -> (56, 13.9)
  line L193 (62.4192, 15.5) -> (59.9, 12.9808)
  line L194 (52.9, 0.5) -> (52.9, 1.8)
  line L195 (44.5, 20) -> (47.5, 20)
  line L196 (44.5, 0) -> (47.5, 0)
  line L197 (41.5, 18.2) -> (42.8, 18.2) construction
  line L198 (42.8, 18.2) -> (49.2, 18.2)
  line L199 (49.2, 1.8) -> (42.8, 1.8)
  line L200 (42.4192, 15.5) -> (42.8, 15.8808)
  line L201 (49.5808, 15.5) -> (49.2, 15.8808)
  line L202 (49.5808, 4.5) -> (49.2, 4.1192)
  line L203 (42.4192, 4.5) -> (42.8, 4.1192)
  line L204 (42.8, 15.8808) -> (42.8, 18.2)
  line L205 (49.2, 18.2) -> (49.2, 15.8808)
  line L206 (49.2, 4.1192) -> (49.2, 1.8)
  line L207 (42.8, 1.8) -> (42.8, 4.1192)
  point P0 (10, 10)
  point P1 (36, 10)
  point P2 (56, 10)
  dimension "d3" = 5
  dimension "d6" = 6.9
  dimension "d7" = 6.9
  dimension "d14" = 6.4
  dimension "d22" = 0.5
  dimension "d23" = 0.5
  dimension "d24" = 0.5
  dimension "d25" = 0.5
  dimension "d26" = 1.5
  dimension "d28" = 360
  dimension "d30" = 360
  dimension "d31" = 5
  dimension "d32" = 0.5
  dimension "d33" = 0.5
  dimension "d34" = 0.5
  dimension "d35" = 0.5
  dimension "d36" = 1.5
  dimension "d39" = 5
  dimension "d42" = 0.5
  dimension "d43" = 0.5
  dimension "d45" = 1.3
  dimension "d47" = 6.4
extrude "Extrude1" add sketch "Sketch1" along normal blind 100 makes body 1 at (12.4876, 9.7511, 33.3333) makes body 2 at (38.4876, 9.7511, 33.3333)
equation "d7 = 10 mm - 3.1 mm"
equation "d14 = 10 mm - 3.6 mm"
